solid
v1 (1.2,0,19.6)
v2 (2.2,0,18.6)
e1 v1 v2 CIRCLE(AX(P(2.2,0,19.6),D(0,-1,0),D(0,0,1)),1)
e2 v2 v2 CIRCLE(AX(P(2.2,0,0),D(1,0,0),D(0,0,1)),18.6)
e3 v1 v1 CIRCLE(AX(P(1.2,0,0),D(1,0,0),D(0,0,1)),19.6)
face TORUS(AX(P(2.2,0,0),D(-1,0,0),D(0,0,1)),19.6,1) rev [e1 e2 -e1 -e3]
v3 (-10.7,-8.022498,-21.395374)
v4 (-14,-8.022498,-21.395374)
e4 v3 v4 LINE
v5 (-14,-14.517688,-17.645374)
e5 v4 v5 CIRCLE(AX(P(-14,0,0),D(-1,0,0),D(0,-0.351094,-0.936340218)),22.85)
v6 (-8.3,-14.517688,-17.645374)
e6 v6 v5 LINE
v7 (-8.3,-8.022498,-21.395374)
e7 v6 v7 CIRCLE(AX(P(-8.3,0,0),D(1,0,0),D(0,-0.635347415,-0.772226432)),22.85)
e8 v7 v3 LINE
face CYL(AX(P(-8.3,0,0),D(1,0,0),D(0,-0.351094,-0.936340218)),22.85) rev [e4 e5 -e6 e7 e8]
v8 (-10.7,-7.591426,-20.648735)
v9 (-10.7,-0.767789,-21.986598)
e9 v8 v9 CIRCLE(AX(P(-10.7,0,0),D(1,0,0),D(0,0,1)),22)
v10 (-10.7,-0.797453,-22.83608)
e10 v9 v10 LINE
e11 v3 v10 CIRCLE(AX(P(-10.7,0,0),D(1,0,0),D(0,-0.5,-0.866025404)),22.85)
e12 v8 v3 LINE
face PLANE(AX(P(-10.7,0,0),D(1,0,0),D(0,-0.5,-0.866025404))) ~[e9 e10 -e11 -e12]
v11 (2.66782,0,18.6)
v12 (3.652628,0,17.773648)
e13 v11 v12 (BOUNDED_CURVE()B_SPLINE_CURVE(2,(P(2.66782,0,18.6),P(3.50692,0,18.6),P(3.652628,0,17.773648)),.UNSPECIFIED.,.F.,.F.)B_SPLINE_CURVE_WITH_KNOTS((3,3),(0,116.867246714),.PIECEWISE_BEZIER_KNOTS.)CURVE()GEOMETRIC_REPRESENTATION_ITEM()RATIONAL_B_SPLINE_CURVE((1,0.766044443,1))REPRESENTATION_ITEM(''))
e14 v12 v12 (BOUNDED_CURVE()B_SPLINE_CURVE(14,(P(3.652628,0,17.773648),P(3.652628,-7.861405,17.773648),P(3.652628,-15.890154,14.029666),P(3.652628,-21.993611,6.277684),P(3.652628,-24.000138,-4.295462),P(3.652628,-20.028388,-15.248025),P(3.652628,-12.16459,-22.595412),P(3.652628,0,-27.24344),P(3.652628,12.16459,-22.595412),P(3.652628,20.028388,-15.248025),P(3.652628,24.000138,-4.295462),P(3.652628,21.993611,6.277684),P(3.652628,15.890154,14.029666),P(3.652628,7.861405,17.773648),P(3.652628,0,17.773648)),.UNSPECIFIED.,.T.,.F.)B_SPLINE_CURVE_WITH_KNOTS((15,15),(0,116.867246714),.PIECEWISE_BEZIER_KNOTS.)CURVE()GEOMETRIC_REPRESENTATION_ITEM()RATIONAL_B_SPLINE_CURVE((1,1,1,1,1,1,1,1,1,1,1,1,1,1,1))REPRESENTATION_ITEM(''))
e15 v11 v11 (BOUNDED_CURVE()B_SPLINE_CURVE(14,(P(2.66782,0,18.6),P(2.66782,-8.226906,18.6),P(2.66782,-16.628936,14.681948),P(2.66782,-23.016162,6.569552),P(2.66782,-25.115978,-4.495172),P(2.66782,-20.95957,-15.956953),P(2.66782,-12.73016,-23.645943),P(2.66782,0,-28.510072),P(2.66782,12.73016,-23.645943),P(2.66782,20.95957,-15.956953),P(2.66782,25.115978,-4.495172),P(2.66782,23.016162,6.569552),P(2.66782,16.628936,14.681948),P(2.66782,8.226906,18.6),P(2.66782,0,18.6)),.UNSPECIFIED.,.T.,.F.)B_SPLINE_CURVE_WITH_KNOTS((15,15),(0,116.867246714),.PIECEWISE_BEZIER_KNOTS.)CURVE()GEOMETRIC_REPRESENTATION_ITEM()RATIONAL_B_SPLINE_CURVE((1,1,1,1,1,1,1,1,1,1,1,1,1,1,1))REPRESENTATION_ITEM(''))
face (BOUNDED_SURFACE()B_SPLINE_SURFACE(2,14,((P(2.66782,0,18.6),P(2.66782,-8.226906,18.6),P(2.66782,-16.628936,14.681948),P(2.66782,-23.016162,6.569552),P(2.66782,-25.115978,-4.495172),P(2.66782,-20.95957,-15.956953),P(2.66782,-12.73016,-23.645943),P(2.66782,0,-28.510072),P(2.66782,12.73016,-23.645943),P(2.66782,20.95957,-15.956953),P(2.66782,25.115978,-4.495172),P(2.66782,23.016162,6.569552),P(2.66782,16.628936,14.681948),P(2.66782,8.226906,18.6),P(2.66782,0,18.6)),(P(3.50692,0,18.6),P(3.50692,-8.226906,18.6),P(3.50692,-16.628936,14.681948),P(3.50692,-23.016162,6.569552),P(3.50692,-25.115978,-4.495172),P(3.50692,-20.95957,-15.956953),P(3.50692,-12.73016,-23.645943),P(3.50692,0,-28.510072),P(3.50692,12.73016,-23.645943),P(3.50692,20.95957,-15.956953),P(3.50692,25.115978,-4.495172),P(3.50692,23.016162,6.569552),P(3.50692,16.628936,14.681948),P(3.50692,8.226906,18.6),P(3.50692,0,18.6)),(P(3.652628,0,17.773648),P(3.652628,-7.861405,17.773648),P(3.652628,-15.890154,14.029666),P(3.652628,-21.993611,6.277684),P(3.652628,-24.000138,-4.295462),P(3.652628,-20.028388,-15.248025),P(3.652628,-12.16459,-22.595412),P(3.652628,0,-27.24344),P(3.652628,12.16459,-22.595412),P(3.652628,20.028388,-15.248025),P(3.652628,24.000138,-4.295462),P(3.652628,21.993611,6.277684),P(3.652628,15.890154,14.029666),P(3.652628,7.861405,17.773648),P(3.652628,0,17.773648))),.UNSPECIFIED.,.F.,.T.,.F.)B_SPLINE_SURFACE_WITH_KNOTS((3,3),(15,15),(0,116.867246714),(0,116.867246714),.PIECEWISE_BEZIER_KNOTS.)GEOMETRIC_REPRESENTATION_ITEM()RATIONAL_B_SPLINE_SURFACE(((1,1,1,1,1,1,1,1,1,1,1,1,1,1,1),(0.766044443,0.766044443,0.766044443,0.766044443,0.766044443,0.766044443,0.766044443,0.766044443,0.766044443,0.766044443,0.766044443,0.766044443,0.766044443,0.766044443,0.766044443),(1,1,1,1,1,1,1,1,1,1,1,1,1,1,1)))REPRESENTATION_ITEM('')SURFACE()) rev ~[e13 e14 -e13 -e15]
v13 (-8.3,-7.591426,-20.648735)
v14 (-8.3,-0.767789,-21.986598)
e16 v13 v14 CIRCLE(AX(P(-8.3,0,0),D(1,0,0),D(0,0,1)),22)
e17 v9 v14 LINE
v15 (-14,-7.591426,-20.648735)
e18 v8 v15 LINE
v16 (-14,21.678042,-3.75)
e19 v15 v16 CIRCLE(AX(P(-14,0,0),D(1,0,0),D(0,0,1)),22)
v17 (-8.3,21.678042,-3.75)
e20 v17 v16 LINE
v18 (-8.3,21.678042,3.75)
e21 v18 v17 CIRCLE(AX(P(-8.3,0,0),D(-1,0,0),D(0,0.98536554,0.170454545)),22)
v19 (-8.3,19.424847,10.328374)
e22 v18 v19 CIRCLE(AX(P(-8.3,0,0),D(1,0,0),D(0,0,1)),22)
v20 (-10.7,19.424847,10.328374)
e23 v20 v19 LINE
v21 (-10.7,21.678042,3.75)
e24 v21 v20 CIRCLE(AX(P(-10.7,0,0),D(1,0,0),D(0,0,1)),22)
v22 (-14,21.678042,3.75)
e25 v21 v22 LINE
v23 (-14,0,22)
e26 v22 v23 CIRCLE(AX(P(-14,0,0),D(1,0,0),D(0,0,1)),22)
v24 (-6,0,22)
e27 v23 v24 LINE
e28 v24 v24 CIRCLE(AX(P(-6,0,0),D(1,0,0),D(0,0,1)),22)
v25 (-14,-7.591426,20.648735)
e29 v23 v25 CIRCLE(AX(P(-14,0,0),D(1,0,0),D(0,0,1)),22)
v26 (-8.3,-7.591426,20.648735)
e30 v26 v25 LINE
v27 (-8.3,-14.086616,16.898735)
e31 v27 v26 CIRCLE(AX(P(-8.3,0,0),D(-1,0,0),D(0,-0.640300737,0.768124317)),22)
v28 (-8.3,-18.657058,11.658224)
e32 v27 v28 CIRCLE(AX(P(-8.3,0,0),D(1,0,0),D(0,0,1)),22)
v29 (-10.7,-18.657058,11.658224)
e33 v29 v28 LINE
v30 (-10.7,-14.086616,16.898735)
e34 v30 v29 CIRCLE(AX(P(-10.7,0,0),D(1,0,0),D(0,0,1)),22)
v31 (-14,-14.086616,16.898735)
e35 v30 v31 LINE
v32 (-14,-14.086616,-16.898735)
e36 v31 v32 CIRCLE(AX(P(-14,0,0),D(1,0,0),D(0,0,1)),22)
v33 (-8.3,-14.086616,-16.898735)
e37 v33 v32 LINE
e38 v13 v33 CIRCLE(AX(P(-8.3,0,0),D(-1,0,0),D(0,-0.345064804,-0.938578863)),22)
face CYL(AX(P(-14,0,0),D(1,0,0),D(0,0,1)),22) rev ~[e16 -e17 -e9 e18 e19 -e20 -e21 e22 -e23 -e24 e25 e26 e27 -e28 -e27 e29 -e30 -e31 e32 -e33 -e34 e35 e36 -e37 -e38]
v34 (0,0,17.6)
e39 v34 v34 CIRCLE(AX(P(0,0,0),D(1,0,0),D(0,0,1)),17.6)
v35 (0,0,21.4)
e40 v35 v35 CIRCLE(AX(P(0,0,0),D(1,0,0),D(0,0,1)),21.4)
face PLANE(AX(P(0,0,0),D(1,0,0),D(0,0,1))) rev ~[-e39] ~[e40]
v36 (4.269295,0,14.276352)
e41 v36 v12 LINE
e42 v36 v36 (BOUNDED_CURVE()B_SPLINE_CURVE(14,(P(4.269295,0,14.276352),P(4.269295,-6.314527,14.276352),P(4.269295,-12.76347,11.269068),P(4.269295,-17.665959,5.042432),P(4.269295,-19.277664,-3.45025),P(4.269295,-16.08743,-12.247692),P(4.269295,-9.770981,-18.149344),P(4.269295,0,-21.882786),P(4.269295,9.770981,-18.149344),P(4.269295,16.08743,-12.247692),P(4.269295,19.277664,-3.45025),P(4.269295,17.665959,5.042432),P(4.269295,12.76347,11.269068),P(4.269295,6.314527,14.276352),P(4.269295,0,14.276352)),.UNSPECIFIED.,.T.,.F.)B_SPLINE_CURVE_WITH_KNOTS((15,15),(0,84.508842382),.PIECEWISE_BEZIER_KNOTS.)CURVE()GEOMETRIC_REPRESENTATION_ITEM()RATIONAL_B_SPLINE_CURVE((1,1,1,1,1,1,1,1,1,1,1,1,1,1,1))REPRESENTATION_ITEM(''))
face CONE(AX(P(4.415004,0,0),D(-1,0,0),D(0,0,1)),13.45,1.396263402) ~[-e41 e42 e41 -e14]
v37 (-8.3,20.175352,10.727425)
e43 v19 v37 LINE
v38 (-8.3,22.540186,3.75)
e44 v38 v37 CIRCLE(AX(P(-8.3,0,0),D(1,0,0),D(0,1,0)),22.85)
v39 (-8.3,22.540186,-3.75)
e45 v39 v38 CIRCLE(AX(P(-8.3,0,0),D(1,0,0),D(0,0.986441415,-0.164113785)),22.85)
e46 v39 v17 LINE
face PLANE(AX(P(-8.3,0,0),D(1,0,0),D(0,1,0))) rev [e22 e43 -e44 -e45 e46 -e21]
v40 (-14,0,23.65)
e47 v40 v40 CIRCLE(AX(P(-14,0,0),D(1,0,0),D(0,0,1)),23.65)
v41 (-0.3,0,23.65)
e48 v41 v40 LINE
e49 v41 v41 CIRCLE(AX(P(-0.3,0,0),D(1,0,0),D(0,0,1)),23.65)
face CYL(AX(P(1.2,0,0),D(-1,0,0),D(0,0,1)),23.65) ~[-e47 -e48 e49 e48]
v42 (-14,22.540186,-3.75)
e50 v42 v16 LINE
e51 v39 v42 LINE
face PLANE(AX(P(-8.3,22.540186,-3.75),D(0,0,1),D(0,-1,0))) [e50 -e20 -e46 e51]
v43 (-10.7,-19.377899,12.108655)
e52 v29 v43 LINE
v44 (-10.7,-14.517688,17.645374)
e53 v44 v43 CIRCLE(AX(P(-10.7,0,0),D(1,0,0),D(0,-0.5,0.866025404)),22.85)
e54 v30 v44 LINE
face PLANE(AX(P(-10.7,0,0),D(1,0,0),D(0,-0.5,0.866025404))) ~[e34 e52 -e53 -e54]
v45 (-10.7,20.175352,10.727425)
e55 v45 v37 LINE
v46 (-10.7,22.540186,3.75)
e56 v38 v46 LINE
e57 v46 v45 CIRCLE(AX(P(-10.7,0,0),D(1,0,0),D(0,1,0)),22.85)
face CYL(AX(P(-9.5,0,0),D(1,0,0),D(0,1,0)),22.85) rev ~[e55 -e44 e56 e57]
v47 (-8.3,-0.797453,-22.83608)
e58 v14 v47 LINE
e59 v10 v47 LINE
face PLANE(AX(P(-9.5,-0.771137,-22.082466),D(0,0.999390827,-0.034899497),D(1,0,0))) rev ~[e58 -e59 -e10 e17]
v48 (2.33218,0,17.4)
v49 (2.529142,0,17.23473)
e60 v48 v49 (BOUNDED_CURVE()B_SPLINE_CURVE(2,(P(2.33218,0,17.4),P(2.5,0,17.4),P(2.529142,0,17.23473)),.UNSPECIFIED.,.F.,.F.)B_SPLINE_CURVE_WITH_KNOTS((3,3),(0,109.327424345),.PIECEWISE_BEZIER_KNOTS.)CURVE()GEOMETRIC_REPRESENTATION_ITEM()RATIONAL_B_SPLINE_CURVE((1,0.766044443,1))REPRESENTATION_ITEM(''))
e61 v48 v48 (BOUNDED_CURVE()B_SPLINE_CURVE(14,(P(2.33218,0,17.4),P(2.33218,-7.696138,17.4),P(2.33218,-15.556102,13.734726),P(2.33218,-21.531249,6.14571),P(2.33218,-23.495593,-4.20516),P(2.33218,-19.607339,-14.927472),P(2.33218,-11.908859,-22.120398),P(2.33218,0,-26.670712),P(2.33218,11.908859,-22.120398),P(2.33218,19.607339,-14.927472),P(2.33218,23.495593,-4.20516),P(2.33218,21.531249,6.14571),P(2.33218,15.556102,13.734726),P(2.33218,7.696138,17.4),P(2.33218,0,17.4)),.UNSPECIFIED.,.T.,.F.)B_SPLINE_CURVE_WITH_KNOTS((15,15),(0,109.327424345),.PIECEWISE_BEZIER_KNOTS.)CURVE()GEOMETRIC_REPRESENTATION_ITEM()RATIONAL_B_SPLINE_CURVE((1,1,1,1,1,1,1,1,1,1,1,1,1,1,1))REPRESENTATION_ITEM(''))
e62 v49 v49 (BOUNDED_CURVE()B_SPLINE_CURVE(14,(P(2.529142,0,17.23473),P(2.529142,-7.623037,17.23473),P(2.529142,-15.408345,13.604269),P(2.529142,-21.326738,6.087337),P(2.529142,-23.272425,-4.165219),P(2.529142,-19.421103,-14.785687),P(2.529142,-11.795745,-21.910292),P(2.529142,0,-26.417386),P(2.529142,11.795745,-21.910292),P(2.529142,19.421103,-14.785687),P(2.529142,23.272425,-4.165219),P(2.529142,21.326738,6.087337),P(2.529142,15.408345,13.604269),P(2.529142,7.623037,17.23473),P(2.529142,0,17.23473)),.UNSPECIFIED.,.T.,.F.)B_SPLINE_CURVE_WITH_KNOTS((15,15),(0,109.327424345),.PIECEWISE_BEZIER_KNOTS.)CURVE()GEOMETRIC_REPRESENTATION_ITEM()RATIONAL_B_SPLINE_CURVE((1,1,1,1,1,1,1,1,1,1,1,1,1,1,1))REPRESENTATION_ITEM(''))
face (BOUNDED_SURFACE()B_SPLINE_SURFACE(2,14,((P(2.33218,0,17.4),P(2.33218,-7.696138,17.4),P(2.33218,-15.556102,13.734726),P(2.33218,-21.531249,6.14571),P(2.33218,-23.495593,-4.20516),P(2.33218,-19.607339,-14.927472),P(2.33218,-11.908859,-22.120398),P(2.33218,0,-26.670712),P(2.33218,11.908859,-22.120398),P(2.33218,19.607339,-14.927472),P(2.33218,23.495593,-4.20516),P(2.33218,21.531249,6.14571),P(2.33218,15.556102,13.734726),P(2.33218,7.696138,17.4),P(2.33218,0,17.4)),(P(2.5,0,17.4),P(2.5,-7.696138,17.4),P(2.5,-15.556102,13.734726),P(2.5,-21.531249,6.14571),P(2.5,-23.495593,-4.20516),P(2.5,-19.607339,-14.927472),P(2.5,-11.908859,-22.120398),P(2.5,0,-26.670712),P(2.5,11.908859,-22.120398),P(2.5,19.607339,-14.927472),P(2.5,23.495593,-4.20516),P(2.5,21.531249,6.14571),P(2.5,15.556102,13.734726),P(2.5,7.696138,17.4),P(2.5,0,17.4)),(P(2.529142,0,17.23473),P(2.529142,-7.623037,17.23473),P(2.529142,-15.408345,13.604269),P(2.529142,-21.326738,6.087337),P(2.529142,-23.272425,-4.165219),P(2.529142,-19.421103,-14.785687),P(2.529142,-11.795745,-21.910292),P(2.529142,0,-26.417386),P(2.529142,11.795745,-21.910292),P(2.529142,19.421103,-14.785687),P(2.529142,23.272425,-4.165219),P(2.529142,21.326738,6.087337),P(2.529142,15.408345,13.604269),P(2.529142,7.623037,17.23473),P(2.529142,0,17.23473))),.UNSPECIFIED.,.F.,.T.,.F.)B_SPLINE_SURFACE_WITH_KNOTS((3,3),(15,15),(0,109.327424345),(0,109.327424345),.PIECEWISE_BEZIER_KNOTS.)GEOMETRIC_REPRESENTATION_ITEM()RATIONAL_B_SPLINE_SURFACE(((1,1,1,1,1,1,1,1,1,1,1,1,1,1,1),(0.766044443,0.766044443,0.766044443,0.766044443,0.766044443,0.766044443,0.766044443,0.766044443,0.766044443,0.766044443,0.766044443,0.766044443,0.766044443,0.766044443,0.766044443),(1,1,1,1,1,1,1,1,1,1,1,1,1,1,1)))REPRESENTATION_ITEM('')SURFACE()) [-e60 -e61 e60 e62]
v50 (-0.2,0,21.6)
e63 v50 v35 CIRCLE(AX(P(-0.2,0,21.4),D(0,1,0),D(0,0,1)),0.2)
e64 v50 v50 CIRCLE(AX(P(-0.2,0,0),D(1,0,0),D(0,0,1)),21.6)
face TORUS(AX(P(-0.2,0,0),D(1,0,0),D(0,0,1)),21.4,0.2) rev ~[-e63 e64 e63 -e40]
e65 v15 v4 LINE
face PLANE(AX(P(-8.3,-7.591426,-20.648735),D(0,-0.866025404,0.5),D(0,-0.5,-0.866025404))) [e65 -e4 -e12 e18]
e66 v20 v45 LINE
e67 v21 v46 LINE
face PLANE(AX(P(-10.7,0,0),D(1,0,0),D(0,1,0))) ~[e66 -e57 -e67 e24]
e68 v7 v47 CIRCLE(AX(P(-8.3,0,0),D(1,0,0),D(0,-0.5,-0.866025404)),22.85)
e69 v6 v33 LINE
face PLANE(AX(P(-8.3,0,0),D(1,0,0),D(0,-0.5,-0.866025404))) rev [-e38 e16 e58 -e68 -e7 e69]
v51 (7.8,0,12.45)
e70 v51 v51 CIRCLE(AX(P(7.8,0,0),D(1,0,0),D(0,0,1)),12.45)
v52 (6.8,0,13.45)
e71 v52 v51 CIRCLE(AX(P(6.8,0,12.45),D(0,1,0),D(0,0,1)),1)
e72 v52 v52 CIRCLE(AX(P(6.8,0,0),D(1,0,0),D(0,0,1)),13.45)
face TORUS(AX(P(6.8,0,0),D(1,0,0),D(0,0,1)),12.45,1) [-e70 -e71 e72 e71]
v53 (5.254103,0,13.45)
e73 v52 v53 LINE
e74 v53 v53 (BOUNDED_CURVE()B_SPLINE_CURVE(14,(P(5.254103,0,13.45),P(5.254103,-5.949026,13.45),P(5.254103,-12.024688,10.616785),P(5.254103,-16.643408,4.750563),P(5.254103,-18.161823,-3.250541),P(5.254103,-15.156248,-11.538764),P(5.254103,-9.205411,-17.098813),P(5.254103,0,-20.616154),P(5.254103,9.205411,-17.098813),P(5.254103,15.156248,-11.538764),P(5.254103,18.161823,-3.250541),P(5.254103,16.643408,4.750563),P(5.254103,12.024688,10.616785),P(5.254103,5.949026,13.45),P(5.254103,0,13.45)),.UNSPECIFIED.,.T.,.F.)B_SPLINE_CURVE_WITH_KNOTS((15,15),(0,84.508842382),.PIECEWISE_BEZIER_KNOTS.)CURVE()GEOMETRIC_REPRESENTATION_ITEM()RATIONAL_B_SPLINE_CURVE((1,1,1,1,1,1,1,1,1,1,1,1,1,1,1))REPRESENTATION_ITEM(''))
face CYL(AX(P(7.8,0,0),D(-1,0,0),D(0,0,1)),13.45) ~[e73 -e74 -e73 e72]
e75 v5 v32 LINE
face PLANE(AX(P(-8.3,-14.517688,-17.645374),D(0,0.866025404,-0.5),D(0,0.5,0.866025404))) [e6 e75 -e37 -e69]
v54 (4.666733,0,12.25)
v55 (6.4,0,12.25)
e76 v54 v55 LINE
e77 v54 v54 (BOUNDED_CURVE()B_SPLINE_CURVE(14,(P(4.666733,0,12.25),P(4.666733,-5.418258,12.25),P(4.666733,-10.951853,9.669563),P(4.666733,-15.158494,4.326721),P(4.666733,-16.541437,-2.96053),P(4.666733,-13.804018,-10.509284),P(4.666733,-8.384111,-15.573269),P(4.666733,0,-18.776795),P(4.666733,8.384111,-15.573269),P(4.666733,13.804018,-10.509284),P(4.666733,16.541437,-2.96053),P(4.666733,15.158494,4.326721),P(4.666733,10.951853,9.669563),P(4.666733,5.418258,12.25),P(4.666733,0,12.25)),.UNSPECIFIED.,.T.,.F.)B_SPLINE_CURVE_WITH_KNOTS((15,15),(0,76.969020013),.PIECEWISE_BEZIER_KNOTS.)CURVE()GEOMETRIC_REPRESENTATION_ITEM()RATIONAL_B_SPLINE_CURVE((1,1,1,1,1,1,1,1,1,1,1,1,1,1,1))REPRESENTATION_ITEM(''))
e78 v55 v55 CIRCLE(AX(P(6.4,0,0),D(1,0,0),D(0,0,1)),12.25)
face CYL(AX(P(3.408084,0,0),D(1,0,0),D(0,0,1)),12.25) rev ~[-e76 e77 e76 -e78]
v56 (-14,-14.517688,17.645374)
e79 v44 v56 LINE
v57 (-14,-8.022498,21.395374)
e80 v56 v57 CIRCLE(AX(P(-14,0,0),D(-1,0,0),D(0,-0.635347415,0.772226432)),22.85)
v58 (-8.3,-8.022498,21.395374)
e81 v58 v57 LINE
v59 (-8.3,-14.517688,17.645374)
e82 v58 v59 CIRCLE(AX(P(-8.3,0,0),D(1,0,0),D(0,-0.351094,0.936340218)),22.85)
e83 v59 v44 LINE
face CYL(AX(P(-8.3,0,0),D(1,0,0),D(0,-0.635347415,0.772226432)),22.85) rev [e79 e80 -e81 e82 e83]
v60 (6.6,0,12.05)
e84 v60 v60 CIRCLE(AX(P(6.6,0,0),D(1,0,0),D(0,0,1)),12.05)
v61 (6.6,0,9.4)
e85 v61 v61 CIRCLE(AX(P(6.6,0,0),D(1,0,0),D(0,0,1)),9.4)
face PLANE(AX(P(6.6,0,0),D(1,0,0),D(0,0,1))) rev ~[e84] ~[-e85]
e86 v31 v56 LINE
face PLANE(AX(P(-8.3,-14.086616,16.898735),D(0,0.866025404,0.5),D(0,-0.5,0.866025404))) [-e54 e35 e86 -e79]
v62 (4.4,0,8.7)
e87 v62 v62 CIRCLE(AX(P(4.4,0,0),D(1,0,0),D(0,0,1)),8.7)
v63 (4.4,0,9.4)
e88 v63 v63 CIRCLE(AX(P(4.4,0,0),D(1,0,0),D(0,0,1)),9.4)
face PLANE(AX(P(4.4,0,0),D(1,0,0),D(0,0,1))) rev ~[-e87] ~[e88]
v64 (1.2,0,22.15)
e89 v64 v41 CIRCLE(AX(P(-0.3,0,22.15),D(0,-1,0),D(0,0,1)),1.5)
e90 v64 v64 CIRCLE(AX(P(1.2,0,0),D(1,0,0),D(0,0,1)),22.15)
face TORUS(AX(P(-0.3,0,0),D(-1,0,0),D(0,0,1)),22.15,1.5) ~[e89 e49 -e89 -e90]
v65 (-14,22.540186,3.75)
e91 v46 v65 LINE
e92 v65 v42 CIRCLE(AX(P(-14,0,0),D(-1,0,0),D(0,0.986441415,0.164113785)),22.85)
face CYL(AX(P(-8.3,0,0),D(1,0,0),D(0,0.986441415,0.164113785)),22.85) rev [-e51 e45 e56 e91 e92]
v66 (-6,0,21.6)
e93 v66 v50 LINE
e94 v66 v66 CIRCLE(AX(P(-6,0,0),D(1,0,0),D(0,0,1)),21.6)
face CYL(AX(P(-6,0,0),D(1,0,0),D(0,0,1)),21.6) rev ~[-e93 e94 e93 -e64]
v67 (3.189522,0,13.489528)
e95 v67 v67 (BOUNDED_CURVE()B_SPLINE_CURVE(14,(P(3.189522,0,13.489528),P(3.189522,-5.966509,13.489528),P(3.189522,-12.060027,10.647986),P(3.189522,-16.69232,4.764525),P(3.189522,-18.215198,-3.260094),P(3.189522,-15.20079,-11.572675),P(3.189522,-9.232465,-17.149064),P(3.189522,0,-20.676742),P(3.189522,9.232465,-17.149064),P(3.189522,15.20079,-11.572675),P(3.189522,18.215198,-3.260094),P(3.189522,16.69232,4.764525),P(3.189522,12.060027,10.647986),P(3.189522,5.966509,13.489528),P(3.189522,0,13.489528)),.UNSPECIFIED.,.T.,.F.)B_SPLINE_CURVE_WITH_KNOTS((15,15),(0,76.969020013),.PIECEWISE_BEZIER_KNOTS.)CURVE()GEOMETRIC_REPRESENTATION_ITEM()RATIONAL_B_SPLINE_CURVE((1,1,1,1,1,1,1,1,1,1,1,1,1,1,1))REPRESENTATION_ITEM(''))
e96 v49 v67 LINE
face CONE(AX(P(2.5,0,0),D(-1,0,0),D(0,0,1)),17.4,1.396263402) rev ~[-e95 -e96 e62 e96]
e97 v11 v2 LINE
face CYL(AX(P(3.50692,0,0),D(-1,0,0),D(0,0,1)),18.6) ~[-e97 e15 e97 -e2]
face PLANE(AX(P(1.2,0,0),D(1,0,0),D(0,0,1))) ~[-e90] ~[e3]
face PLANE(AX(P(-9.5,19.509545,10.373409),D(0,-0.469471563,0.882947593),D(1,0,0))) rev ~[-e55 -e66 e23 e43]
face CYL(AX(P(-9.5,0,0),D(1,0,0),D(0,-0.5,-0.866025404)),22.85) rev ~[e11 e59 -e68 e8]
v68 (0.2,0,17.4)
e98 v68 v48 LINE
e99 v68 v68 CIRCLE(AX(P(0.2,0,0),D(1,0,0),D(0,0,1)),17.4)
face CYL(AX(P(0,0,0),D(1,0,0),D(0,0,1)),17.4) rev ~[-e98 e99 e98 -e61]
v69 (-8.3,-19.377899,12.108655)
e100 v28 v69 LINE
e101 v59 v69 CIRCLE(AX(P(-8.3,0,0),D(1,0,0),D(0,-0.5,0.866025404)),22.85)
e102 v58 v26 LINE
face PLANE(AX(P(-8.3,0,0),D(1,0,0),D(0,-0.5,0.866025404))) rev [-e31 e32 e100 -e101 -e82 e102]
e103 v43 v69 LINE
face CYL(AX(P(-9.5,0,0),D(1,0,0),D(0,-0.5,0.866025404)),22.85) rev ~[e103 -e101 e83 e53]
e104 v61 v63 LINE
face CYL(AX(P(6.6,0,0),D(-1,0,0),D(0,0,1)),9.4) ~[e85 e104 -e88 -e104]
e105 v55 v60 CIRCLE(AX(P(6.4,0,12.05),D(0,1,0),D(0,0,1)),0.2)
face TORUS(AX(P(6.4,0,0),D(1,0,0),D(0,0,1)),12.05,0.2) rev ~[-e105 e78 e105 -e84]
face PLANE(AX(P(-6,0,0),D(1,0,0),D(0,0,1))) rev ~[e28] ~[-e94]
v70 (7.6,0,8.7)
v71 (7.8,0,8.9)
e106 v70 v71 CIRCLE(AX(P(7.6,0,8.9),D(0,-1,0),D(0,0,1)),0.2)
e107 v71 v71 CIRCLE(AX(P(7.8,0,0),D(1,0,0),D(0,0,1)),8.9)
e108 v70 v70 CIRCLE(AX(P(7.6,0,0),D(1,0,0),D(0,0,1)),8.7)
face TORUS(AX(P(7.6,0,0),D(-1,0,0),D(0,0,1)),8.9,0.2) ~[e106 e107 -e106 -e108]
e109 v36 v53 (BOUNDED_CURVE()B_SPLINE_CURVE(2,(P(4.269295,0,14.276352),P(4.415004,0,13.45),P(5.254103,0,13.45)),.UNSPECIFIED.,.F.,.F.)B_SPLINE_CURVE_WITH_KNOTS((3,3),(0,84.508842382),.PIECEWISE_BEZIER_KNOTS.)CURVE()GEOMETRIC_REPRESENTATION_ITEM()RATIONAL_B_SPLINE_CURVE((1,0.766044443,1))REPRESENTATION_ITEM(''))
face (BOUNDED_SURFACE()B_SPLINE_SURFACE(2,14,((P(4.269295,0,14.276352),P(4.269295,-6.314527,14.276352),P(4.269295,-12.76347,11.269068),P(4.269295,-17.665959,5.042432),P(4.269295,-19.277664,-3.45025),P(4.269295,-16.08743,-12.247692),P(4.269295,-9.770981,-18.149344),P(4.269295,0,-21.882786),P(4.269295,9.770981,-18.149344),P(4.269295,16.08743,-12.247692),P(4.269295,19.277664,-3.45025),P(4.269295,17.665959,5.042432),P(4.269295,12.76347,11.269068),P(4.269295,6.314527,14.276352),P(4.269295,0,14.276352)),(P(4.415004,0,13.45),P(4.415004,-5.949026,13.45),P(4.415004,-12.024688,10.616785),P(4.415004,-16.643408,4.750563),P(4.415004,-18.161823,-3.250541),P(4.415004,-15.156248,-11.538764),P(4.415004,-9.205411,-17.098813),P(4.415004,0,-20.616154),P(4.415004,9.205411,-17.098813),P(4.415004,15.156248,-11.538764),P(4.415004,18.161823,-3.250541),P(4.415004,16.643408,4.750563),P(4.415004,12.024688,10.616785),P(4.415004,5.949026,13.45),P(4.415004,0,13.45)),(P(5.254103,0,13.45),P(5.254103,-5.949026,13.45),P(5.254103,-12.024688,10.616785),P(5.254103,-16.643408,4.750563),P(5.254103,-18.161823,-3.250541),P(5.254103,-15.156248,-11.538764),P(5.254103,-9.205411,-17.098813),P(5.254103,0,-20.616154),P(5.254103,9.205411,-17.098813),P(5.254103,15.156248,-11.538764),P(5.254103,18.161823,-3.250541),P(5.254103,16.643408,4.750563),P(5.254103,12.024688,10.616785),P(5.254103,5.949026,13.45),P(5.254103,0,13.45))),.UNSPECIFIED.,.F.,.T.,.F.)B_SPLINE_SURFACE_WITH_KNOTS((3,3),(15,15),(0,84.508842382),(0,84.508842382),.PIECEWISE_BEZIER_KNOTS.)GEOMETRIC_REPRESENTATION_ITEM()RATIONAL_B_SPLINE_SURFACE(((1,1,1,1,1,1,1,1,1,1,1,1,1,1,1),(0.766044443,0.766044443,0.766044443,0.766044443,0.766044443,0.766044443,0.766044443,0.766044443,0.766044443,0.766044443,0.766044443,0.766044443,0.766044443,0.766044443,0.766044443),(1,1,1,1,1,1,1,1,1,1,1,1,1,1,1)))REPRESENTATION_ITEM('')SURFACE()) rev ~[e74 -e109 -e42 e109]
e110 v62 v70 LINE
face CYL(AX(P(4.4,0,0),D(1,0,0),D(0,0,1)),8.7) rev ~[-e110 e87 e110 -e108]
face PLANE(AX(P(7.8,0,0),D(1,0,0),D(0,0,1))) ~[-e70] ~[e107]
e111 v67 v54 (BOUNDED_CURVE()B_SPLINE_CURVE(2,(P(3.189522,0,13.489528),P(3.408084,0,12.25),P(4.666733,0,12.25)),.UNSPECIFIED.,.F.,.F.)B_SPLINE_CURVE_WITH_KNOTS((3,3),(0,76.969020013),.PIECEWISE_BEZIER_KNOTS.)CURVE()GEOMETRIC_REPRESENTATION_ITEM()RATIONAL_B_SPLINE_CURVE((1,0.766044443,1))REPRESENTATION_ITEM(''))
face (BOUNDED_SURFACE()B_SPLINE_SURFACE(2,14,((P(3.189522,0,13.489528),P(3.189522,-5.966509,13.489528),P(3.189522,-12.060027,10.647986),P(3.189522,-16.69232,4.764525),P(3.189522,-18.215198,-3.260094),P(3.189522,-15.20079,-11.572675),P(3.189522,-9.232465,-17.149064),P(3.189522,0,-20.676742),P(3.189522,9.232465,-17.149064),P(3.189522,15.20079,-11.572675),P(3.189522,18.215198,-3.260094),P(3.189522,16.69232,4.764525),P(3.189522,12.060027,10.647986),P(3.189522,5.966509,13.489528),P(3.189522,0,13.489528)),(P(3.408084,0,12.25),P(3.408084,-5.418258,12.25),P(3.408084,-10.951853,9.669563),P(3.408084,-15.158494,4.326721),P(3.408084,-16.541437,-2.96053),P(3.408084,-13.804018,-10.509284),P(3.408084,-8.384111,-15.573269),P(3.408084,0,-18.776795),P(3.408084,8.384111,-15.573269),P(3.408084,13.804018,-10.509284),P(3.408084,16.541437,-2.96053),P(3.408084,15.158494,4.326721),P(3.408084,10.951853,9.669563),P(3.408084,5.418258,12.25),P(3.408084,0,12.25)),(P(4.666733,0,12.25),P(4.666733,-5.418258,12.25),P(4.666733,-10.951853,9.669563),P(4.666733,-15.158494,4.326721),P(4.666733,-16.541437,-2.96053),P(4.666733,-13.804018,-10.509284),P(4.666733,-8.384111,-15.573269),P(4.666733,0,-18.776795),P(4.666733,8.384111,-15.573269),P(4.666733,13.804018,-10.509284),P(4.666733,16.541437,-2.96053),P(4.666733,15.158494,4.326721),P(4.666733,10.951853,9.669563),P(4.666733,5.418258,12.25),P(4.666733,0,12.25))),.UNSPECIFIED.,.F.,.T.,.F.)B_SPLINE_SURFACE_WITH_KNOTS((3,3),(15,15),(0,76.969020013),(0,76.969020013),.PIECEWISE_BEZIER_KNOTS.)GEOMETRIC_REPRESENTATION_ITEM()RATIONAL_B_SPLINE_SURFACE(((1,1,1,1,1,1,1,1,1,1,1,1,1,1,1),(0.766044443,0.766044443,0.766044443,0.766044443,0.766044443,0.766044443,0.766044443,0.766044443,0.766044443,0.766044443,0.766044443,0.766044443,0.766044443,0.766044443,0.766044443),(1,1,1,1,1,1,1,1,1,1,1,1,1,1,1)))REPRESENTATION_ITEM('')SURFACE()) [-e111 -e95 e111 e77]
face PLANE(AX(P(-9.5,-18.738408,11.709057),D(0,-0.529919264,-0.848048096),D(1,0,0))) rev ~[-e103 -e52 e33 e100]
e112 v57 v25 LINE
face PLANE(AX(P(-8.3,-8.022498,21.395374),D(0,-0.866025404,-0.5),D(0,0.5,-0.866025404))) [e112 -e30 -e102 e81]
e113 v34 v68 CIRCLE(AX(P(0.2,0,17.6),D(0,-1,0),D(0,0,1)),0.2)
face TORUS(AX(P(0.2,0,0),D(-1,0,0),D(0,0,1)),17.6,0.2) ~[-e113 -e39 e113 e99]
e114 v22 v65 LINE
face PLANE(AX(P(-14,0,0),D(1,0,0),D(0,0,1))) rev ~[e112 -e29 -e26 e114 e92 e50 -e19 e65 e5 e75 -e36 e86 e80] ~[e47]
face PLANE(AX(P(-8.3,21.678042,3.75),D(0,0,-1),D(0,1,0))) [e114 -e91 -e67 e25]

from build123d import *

# Parameters (mm, degrees)
FILLET_1_R               = 0.2
FILLET_2_R               = 1
FILLET_3_R               = 1.5
CUT_EXTRUDE_START        = -5.7
CUT_EXTRUDE_2_DEPTH      = 5.7
SKETCH_5_W               = 2.4
SKETCH_5_H               = 1.508146796
CUT_REVOLVE_1_ANGLE      = 28
PATTERN_CIRCULAR_1_COUNT = 3


with BuildPart() as part:
    # 草图2 → 旋转1 (revolve)
    with BuildSketch(Plane.XY, mode=Mode.PRIVATE) as revolve_1_sk:
        Polygon((-14, 22), (-6, 22), (-6, 21.6), (0, 21.6), (0, 17.4), (2.5, 17.4), (3.408083951, 12.25), (6.6, 12.25), (6.6, 9.4), (4.4, 9.4), (4.4, 8.7), (7.8, 8.7), (7.8, 13.45), (4.415003508, 13.45), (3.506919557, 18.6), (1.2, 18.6), (1.2, 23.65), (-14, 23.65), align=None)
    revolve(revolve_1_sk.sketch.rotate(Axis((-36.936605317, 0, 0), (1, 0, 0)), 90), axis=Axis((-36.936605317, 0, 0), (1, 0, 0)))

    # 圆角1
    fillet_1_edges = [part.edges().sort_by_distance(p)[0] for p in [
        (0, 0, -21.6),
        (0, 0, -17.4),
        (2.5, 0, -17.4),
        (6.6, 0, -12.25),
        (7.8, 0, -8.7),
    ]]
    fillet(fillet_1_edges, radius=FILLET_1_R)

    # 圆角2
    fillet_2_edges = [part.edges().sort_by_distance(p)[0] for p in [
        (7.8, 0, -13.45),
        (4.415003508, 0, -13.45),
        (3.506919557, 0, -18.6),
        (1.2, 0, -18.6),
    ]]
    fillet(fillet_2_edges, radius=FILLET_2_R)

    # 圆角3
    fillet_3_edges = [part.edges().sort_by_distance(p)[0] for p in [
        (3.408083951, 0, -12.25),
        (1.2, 0, -23.65),
    ]]
    fillet(fillet_3_edges, radius=FILLET_3_R)

    # 草图4 → 切除-拉伸2 (cut)
    with BuildSketch(Plane.ZY.offset(14).offset(CUT_EXTRUDE_START)):
        with BuildLine():
            Line((-3.75, 22.540186335), (-3.75, 21.678041886))
            ThreePointArc((-3.75, 21.678041886), (0, 22), (3.75, 21.678041886))
            Line((3.75, 21.678041886), (3.75, 22.540186335))
            ThreePointArc((3.75, 22.540186335), (0, 22.85), (-3.75, 22.540186335))
        make_face()
    cut_extrude_2 = extrude(amount=CUT_EXTRUDE_2_DEPTH, mode=Mode.SUBTRACT)

    # 草图5 → 切除-旋转1 (revolve, cut)
    with BuildSketch(Plane.XY):
        with Locations((-9.5, 22.095926602)):
            Rectangle(SKETCH_5_W, SKETCH_5_H)
    cut_revolve_1 = revolve(axis=Axis((16.624194515, 0, 0), (1, 0, 0)), revolution_arc=CUT_REVOLVE_1_ANGLE, mode=Mode.SUBTRACT)

    # 阵列(圆周)1: 切除-拉伸2, 切除-旋转1 ×3 about axis
    pattern_circular_1_axis = Axis((0, 0, 0), (1, 0, 0))
    add([cut_extrude_2.rotate(pattern_circular_1_axis, i * 360 / PATTERN_CIRCULAR_1_COUNT) for i in range(1, PATTERN_CIRCULAR_1_COUNT)], mode=Mode.SUBTRACT)
    add([cut_revolve_1.rotate(pattern_circular_1_axis, i * 360 / PATTERN_CIRCULAR_1_COUNT) for i in range(1, PATTERN_CIRCULAR_1_COUNT)], mode=Mode.SUBTRACT)


solid = part.part
